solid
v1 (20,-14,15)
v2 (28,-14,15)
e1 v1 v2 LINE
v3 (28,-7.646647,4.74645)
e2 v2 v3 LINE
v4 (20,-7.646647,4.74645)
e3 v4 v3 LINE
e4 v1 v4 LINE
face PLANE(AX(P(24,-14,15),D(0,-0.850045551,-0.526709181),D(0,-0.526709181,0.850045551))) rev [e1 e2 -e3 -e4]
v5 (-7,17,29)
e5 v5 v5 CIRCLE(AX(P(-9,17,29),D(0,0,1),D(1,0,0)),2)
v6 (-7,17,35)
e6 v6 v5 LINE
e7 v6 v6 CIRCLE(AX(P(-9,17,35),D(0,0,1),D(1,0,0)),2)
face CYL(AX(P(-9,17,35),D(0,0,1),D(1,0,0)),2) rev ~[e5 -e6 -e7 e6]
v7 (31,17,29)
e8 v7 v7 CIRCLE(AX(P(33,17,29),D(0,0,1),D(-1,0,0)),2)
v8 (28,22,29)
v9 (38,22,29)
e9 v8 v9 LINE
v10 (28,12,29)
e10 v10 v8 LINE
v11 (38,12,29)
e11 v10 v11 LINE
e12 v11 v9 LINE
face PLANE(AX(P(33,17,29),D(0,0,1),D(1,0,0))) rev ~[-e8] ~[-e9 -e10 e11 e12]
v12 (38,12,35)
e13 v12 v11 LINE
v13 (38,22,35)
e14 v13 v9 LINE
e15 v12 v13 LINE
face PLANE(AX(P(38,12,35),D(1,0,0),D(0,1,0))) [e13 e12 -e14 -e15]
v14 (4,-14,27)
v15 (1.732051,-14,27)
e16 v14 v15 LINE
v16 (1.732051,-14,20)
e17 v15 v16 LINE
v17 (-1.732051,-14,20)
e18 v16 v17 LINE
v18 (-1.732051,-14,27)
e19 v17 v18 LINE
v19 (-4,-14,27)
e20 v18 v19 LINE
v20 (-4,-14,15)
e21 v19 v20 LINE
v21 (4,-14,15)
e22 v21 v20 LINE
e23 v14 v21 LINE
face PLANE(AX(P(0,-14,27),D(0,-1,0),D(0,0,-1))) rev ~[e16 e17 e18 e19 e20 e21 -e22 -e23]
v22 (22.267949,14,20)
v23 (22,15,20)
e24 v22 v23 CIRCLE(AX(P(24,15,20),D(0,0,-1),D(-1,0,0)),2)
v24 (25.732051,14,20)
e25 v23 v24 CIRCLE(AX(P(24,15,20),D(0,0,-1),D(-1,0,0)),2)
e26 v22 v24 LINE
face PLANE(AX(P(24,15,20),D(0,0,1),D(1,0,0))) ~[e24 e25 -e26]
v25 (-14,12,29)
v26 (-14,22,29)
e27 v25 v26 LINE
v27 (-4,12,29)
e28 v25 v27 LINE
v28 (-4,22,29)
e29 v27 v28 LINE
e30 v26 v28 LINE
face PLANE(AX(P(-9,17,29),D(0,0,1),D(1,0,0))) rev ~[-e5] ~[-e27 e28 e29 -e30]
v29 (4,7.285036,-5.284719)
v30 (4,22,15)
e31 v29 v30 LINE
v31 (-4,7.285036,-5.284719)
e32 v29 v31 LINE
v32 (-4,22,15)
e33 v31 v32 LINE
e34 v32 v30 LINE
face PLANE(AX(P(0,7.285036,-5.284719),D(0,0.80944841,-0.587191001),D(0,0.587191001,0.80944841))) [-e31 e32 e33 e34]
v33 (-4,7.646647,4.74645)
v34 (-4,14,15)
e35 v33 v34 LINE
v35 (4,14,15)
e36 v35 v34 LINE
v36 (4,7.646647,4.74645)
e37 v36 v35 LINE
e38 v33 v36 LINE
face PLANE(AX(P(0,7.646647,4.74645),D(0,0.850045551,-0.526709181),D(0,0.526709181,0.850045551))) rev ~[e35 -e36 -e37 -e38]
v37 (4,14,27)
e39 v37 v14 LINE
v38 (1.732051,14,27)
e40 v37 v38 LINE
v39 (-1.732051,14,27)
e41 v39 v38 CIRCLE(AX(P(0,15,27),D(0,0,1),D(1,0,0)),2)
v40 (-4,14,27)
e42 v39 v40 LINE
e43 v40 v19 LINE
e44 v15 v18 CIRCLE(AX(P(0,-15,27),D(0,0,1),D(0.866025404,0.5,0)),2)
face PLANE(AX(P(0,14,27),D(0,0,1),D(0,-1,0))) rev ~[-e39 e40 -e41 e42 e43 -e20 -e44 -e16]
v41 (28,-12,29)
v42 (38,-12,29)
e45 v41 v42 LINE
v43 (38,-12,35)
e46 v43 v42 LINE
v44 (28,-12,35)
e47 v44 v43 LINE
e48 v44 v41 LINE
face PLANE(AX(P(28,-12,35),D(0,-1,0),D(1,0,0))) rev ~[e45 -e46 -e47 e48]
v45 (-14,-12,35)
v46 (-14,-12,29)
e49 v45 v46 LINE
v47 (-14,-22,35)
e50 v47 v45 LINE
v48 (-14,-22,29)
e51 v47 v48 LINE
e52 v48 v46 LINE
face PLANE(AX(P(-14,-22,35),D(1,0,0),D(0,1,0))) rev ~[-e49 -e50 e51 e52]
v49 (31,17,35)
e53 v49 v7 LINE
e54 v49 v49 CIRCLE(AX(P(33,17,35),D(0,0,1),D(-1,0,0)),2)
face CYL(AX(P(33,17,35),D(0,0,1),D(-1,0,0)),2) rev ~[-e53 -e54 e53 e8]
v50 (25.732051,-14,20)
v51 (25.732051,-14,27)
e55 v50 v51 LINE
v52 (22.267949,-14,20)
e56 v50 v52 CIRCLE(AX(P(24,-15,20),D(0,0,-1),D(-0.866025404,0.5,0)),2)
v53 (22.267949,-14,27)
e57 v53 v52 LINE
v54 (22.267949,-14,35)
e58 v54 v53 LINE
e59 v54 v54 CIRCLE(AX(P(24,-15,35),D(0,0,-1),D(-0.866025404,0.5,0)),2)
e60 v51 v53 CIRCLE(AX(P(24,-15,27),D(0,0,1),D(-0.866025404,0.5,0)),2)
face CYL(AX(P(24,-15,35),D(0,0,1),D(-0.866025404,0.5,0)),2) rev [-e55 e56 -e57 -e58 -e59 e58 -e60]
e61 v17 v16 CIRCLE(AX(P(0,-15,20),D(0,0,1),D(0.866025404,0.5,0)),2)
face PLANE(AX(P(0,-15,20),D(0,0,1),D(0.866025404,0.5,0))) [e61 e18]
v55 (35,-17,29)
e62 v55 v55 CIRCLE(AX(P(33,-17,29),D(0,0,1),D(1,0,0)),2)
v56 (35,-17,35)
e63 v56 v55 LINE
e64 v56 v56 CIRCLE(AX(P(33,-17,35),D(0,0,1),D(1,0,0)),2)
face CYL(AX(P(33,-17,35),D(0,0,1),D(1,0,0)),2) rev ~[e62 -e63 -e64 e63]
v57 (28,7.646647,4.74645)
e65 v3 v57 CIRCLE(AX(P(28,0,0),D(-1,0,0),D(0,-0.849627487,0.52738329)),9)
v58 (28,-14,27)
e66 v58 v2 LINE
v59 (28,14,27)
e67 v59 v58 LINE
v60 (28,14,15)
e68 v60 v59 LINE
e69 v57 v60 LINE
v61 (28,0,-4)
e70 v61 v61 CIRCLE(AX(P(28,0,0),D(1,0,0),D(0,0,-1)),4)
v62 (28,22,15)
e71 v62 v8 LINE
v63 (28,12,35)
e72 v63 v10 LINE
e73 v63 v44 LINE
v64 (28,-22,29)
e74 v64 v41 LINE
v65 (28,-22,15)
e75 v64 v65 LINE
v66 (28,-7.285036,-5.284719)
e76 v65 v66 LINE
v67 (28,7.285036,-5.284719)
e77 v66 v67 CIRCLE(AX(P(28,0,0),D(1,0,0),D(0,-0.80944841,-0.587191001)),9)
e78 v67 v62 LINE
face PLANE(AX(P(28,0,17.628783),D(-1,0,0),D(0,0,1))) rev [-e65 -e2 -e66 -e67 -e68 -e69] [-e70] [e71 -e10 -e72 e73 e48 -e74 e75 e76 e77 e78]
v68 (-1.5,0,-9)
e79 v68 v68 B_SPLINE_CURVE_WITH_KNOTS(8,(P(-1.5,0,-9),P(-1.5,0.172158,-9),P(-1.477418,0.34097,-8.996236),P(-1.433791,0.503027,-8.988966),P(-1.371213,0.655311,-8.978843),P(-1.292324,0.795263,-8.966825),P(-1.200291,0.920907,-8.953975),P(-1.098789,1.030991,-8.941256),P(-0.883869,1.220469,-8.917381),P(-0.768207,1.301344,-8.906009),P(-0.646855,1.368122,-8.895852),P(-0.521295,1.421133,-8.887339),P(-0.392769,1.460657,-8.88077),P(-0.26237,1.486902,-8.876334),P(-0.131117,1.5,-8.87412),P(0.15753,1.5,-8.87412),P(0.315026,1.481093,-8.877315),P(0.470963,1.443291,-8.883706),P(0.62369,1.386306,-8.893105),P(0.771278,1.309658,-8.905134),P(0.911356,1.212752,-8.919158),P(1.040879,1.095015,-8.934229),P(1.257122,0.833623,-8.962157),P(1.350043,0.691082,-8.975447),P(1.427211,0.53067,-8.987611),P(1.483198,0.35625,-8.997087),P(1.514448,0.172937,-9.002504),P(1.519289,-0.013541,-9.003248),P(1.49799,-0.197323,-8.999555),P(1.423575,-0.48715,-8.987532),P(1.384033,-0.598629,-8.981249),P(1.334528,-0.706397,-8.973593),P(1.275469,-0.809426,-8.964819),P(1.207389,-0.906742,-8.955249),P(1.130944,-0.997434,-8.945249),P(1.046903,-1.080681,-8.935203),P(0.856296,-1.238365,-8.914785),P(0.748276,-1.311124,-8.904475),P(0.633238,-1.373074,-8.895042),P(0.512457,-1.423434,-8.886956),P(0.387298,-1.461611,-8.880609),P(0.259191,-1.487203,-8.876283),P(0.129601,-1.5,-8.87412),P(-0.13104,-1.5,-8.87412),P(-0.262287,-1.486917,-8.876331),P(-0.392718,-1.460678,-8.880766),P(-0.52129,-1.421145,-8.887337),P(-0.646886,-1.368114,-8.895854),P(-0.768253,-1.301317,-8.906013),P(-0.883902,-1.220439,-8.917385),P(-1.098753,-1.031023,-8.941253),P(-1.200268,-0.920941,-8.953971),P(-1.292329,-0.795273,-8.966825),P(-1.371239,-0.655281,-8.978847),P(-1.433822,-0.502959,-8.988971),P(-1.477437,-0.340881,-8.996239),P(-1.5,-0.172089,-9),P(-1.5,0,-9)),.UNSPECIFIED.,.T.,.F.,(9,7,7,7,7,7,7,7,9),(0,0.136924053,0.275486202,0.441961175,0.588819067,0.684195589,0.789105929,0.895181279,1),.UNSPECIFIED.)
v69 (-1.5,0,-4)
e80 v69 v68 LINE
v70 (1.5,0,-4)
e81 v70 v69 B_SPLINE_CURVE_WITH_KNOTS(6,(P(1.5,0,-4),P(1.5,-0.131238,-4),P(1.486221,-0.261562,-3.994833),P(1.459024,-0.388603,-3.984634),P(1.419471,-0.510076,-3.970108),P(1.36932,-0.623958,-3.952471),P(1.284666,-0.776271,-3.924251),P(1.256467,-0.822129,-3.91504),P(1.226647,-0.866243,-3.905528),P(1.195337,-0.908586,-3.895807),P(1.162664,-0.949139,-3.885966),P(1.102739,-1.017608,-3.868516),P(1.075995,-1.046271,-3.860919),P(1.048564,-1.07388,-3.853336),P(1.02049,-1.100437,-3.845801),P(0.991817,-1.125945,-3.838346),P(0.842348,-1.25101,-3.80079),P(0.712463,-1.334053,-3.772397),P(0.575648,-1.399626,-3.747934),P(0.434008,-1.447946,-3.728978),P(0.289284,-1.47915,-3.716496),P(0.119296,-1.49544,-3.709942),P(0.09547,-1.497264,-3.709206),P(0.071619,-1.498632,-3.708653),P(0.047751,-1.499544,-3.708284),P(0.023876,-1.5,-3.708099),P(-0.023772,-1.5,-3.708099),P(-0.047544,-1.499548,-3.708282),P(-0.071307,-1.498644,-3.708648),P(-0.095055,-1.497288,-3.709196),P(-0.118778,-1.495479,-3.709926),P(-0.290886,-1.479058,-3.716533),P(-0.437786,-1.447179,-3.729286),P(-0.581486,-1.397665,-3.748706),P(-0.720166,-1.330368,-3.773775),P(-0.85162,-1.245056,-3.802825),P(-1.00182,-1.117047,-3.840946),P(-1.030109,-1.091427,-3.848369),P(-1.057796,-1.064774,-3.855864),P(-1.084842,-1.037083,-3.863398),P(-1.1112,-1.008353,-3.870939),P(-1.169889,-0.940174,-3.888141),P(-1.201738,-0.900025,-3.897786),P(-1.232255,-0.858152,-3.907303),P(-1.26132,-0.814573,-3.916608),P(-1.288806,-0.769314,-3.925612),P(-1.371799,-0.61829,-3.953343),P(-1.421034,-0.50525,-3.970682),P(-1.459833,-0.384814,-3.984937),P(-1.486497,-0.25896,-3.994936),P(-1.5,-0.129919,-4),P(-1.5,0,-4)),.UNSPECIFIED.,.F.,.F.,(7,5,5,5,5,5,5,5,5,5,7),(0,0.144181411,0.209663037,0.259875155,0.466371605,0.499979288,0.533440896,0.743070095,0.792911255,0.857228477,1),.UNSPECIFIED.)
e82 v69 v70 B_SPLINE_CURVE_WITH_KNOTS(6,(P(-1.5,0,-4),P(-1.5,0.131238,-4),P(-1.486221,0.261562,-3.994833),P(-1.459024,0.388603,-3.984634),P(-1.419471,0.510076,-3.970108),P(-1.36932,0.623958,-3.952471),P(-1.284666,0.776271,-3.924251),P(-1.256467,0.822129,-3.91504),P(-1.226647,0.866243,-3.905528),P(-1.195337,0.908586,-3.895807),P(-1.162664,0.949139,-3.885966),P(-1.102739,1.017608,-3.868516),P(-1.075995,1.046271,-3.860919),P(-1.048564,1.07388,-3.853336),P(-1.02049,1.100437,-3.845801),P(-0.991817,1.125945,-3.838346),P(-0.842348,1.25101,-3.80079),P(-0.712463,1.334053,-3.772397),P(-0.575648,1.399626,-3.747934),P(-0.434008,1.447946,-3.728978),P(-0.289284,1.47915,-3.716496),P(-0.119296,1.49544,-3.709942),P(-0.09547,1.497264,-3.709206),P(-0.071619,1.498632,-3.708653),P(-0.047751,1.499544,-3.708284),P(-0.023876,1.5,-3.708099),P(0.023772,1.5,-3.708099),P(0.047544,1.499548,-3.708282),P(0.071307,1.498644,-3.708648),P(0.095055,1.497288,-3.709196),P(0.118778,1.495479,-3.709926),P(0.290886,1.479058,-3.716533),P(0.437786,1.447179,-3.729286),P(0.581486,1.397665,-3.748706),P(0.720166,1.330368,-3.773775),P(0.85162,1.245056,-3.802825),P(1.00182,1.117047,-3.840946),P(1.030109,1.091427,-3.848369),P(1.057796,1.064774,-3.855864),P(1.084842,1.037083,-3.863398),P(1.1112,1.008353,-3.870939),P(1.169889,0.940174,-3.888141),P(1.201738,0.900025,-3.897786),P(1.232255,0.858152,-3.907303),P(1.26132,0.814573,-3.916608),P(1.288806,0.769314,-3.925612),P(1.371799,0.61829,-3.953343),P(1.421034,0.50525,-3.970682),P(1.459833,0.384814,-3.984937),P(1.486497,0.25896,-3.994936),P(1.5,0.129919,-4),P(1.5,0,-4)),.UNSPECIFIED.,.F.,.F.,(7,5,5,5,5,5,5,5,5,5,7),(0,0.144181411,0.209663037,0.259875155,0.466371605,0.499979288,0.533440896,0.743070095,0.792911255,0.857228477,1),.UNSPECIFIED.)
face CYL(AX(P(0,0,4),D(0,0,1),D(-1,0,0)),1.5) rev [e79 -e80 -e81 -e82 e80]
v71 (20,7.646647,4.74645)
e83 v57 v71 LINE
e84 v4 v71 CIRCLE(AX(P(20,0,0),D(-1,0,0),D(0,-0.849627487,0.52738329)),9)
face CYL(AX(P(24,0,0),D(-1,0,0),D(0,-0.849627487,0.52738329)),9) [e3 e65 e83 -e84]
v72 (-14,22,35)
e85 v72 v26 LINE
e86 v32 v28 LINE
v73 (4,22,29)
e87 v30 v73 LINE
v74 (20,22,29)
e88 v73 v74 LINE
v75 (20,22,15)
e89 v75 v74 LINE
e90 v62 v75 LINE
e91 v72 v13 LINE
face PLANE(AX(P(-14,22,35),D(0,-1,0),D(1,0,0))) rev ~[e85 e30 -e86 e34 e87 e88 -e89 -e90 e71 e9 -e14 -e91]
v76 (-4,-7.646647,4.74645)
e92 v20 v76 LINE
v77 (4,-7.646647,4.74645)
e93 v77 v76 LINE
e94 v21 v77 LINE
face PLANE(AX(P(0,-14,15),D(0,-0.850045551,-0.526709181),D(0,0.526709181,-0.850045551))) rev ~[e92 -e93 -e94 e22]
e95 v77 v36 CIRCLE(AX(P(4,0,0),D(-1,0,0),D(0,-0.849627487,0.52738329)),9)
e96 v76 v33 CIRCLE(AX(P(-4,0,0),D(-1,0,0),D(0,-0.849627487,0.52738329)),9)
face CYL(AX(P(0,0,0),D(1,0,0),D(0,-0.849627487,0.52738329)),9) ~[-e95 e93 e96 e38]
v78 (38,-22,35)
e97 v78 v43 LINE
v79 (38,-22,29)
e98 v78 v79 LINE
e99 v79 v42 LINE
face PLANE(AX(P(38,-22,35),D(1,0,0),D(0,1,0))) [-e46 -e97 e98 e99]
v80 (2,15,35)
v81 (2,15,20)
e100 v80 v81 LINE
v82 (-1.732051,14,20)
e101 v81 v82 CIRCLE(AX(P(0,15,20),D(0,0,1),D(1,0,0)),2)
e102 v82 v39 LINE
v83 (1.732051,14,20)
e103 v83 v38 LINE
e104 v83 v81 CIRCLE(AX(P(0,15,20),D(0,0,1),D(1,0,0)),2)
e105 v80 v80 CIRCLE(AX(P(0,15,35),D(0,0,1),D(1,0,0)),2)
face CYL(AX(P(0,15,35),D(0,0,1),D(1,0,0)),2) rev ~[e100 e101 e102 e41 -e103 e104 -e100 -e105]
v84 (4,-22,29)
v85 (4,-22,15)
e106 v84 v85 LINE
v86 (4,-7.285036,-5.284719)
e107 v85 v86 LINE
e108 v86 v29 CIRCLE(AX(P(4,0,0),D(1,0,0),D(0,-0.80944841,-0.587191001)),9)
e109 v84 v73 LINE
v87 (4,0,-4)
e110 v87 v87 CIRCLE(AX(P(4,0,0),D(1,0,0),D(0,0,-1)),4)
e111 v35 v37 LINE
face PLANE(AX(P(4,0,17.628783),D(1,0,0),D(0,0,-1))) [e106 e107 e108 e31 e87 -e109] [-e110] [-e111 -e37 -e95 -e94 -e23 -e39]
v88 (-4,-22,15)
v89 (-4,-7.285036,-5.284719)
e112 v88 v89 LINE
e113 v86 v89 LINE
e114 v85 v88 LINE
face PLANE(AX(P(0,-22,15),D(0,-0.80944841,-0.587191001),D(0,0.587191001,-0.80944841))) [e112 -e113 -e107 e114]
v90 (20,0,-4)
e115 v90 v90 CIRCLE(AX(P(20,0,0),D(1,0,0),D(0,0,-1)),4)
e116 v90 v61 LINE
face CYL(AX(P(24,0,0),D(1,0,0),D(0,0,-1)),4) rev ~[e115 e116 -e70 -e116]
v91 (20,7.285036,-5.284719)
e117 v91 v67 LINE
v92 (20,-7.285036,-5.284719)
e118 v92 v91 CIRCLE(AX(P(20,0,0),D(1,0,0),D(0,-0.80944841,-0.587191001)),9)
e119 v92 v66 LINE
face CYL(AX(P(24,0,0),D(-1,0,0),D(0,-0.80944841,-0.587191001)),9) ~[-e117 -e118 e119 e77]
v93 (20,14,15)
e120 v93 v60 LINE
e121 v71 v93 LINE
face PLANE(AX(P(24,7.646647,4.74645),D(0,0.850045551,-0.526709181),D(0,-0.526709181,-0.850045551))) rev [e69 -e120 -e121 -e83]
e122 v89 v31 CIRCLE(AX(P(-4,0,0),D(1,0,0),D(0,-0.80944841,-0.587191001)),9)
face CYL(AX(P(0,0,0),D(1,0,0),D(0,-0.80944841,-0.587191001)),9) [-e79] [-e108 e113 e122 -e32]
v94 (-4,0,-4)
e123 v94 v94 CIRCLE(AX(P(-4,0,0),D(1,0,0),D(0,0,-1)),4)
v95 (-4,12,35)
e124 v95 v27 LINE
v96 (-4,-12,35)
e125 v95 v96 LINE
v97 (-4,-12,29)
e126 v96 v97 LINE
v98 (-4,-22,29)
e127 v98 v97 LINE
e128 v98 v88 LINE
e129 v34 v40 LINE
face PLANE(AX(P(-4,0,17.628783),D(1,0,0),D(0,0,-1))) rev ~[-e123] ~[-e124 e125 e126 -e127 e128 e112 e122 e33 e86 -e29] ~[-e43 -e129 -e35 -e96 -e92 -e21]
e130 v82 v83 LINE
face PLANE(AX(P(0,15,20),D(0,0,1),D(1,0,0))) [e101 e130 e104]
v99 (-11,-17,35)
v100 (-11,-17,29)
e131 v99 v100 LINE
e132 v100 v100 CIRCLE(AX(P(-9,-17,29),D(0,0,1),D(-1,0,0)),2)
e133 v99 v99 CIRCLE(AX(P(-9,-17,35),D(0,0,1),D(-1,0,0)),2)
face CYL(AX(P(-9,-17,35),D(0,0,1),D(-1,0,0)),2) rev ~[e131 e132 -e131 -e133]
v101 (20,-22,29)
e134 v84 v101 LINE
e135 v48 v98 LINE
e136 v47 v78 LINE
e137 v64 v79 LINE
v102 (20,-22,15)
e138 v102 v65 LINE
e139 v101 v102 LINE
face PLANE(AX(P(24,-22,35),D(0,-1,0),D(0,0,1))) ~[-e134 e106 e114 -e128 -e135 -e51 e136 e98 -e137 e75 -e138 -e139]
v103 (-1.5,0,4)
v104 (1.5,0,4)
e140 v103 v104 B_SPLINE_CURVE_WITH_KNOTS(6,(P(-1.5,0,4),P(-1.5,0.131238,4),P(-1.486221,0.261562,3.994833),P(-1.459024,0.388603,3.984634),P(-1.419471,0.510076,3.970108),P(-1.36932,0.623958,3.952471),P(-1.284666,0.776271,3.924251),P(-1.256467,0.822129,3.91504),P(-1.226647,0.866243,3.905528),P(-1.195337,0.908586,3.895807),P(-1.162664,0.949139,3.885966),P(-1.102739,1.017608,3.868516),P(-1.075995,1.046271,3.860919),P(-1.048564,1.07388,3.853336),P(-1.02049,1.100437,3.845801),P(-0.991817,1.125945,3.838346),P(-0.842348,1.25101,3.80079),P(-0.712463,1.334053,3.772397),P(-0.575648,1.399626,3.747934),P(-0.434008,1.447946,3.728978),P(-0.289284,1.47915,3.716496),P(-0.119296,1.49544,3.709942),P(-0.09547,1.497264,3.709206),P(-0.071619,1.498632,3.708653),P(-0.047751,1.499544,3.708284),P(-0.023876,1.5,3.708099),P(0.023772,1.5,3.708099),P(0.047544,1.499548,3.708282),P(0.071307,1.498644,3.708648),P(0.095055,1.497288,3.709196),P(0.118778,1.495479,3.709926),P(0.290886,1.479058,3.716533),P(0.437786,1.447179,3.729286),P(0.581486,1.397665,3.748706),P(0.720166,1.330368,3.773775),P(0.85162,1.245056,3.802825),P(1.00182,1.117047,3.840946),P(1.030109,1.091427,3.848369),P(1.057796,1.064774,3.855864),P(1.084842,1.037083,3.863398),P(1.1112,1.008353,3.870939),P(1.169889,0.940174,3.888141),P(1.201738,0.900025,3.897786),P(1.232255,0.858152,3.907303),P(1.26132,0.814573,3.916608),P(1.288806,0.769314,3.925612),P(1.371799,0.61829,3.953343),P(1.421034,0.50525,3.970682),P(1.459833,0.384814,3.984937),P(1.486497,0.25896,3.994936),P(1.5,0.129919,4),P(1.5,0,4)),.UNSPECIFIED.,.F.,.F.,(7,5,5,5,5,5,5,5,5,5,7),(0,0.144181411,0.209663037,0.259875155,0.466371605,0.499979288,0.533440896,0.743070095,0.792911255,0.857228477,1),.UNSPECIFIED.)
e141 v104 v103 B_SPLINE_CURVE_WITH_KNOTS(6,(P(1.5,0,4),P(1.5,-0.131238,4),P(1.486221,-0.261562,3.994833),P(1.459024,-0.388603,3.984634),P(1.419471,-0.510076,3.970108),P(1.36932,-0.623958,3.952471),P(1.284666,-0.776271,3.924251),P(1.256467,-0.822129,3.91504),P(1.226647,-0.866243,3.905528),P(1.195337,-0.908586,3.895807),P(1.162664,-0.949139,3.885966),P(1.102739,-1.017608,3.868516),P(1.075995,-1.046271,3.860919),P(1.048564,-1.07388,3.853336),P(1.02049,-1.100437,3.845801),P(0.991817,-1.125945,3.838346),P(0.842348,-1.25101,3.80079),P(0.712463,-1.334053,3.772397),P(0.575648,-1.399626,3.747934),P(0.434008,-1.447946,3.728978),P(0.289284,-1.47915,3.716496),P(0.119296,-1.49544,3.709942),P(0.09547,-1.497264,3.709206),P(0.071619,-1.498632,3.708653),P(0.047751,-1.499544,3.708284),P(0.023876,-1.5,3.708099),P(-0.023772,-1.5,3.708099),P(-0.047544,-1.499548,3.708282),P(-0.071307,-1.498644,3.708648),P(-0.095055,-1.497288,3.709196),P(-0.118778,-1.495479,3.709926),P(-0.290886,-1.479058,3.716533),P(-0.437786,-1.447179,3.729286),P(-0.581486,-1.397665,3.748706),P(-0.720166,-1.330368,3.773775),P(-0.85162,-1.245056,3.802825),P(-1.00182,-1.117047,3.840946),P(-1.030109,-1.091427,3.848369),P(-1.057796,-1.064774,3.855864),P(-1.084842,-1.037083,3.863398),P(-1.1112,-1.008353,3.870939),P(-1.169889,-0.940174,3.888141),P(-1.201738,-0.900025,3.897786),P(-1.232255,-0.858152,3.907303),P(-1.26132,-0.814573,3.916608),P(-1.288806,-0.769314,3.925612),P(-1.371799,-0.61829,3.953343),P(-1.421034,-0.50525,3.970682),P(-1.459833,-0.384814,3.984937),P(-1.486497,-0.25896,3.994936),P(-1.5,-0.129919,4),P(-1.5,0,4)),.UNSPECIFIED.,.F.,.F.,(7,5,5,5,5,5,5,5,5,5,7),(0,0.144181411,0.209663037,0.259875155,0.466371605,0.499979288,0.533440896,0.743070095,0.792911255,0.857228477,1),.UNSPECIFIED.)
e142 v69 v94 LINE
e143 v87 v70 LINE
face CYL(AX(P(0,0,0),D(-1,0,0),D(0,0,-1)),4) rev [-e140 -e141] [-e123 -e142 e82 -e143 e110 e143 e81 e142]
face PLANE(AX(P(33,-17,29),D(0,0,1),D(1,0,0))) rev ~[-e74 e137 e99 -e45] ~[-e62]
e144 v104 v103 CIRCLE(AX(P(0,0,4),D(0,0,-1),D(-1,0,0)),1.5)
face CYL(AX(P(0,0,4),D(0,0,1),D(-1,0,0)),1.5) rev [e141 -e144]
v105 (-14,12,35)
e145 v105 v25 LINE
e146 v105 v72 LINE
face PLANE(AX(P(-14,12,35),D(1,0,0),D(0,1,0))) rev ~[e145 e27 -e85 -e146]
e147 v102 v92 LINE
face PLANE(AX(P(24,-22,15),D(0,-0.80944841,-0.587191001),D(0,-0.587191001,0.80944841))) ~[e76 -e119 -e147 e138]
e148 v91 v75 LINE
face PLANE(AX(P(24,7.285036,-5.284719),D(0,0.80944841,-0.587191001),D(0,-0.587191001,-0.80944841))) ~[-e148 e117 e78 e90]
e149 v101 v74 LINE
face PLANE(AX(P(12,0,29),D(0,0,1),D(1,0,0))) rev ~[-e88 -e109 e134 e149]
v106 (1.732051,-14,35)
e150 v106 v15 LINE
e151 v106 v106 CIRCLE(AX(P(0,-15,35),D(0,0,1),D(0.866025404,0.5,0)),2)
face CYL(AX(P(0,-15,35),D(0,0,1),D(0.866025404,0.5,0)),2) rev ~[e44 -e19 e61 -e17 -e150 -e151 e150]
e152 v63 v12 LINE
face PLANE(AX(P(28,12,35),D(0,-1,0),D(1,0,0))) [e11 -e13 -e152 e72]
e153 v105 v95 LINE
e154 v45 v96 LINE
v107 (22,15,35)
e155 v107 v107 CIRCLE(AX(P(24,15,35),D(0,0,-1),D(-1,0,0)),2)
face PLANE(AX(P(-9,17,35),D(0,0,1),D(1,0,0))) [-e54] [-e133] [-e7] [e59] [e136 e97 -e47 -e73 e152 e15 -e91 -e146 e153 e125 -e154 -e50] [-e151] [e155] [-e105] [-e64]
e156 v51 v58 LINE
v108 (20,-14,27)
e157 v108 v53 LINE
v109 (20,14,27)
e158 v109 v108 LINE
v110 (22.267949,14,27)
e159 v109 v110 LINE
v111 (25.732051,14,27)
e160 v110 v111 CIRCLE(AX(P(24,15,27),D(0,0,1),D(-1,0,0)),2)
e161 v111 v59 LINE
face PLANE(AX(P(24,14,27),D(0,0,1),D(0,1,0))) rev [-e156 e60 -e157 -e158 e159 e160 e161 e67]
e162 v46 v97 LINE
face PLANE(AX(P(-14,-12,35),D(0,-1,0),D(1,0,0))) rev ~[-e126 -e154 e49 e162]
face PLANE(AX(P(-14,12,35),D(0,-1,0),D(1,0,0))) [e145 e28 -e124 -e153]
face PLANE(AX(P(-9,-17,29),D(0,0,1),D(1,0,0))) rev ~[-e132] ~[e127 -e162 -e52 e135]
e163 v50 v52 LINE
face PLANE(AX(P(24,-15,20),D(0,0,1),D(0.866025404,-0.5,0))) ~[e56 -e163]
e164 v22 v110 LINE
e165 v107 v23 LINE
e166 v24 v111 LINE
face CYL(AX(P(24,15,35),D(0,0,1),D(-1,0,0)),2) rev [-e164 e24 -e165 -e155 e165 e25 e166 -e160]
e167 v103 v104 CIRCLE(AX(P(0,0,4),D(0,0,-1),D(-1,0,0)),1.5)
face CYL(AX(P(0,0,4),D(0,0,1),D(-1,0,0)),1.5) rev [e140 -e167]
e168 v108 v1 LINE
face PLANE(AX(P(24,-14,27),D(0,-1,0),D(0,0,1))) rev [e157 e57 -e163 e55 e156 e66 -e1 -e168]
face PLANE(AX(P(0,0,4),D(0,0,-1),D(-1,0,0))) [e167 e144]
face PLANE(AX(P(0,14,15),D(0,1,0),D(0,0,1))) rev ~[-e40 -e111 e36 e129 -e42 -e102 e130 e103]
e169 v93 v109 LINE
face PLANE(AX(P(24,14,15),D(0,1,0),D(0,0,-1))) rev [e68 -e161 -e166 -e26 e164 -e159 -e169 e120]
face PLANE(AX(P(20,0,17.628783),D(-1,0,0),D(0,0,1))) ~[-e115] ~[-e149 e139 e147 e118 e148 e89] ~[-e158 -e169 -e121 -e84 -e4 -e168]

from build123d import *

# Parameters (mm, degrees)
SKETCH_1_R          = 4
EXTRUDE_1_DEPTH     = 4
SKETCH_2_R          = 2
CUT_EXTRUDE_1_DEPTH = 15
SKETCH_4_W          = 16
SKETCH_4_H          = 44
EXTRUDE_2_DEPTH     = 6
SKETCH_5_W          = 10
SKETCH_5_H          = 10
SKETCH_5_R          = 2
EXTRUDE_3_DEPTH     = 6
SKETCH_6_R          = 1.5
CUT_EXTRUDE_2_DEPTH = 54.749418602


with BuildPart() as part:
    # 草图1 → 凸台-拉伸1 (new, symmetric)
    with BuildSketch(Plane(origin=(0, 0, 0), x_dir=(0, 0, -1), z_dir=(1, 0, 0))):
        with BuildLine():
            Line((5.28471901, 7.285035689), (-15, 22))
            Line((-15, 22), (-35, 22))
            Line((-35, 22), (-35, -0.025536126))
            Line((-35, -0.025536126), (-35, -22))
            Line((-35, -22), (-15, -22))
            Line((-15, -22), (5.28471901, -7.285035689))
            ThreePointArc((5.28471901, -7.285035689), (9, 0), (5.28471901, 7.285035689))
        make_face()
        Circle(SKETCH_1_R, mode=Mode.SUBTRACT)
        with BuildLine():
            Line((-4.746449606, 7.646647379), (-15, 14))
            Line((-15, 14), (-27, 14))
            Line((-27, 14), (-27, -14))
            Line((-27, -14), (-15, -14))
            Line((-15, -14), (-4.746449606, -7.646647379))
            ThreePointArc((-4.746449606, -7.646647379), (-9, 0), (-4.746449606, 7.646647379))
        make_face(mode=Mode.SUBTRACT)
    extrude_1 = extrude(amount=EXTRUDE_1_DEPTH, both=True)

    # 草图2 → 切除-拉伸1 (cut)
    with BuildSketch(Plane.XY.offset(35)):
        with Locations((0, 15)):
            Circle(SKETCH_2_R)
        with Locations(Location((0, -15, 0), (0, 0, 30))):
            Circle(SKETCH_2_R)
    cut_extrude_1 = extrude(amount=-CUT_EXTRUDE_1_DEPTH, mode=Mode.SUBTRACT)

    # 草图4 → 凸台-拉伸2 (add)
    with BuildSketch(Plane.XY.offset(35)):
        with Locations((12, 0)):
            Rectangle(SKETCH_4_W, SKETCH_4_H)
    extrude(amount=-EXTRUDE_2_DEPTH)

    # 镜向1: 凸台-拉伸1, 切除-拉伸1 across plane
    add(extrude_1.mirror(Plane(origin=(12, 0, 0), x_dir=(0, 0, 1), z_dir=(1, 0, 0))))
    add(cut_extrude_1.mirror(Plane(origin=(12, 0, 0), x_dir=(0, 0, 1), z_dir=(1, 0, 0))), mode=Mode.SUBTRACT)

    # 草图5 → 凸台-拉伸3 (add)
    # profile 1 of 4: a face of its own
    with BuildSketch(Plane.XY.offset(35)):
        with Locations((-9, 17)):
            Rectangle(SKETCH_5_W, SKETCH_5_H)
        with Locations((-9, 17)):
            Circle(SKETCH_5_R, mode=Mode.SUBTRACT)
    # profile 2 of 4: a face of its own
    with BuildSketch(Plane.XY.offset(35)):
        with Locations((33, 17)):
            Rectangle(SKETCH_5_W, SKETCH_5_H)
        with Locations(Location((33, 17, 0), (0, 0, 180))):
            Circle(SKETCH_5_R, mode=Mode.SUBTRACT)
    # profile 3 of 4: a face of its own
    with BuildSketch(Plane.XY.offset(35)):
        with Locations((33, -17)):
            Rectangle(SKETCH_5_W, SKETCH_5_H)
        with Locations((33, -17)):
            Circle(SKETCH_5_R, mode=Mode.SUBTRACT)
    # profile 4 of 4: a face of its own
    with BuildSketch(Plane.XY.offset(35)):
        with Locations((-9, -17)):
            Rectangle(SKETCH_5_W, SKETCH_5_H)
        with Locations(Location((-9, -17, 0), (0, 0, 180))):
            Circle(SKETCH_5_R, mode=Mode.SUBTRACT)
    extrude(amount=-EXTRUDE_3_DEPTH)

    # 草图6 → 切除-拉伸2 (cut, through all)
    with BuildSketch(Plane(origin=(0, 0, 4), x_dir=(-1, 0, 0), z_dir=(0, 0, -1))):
        Circle(SKETCH_6_R)
    extrude(amount=CUT_EXTRUDE_2_DEPTH, mode=Mode.SUBTRACT)


solid = part.part
